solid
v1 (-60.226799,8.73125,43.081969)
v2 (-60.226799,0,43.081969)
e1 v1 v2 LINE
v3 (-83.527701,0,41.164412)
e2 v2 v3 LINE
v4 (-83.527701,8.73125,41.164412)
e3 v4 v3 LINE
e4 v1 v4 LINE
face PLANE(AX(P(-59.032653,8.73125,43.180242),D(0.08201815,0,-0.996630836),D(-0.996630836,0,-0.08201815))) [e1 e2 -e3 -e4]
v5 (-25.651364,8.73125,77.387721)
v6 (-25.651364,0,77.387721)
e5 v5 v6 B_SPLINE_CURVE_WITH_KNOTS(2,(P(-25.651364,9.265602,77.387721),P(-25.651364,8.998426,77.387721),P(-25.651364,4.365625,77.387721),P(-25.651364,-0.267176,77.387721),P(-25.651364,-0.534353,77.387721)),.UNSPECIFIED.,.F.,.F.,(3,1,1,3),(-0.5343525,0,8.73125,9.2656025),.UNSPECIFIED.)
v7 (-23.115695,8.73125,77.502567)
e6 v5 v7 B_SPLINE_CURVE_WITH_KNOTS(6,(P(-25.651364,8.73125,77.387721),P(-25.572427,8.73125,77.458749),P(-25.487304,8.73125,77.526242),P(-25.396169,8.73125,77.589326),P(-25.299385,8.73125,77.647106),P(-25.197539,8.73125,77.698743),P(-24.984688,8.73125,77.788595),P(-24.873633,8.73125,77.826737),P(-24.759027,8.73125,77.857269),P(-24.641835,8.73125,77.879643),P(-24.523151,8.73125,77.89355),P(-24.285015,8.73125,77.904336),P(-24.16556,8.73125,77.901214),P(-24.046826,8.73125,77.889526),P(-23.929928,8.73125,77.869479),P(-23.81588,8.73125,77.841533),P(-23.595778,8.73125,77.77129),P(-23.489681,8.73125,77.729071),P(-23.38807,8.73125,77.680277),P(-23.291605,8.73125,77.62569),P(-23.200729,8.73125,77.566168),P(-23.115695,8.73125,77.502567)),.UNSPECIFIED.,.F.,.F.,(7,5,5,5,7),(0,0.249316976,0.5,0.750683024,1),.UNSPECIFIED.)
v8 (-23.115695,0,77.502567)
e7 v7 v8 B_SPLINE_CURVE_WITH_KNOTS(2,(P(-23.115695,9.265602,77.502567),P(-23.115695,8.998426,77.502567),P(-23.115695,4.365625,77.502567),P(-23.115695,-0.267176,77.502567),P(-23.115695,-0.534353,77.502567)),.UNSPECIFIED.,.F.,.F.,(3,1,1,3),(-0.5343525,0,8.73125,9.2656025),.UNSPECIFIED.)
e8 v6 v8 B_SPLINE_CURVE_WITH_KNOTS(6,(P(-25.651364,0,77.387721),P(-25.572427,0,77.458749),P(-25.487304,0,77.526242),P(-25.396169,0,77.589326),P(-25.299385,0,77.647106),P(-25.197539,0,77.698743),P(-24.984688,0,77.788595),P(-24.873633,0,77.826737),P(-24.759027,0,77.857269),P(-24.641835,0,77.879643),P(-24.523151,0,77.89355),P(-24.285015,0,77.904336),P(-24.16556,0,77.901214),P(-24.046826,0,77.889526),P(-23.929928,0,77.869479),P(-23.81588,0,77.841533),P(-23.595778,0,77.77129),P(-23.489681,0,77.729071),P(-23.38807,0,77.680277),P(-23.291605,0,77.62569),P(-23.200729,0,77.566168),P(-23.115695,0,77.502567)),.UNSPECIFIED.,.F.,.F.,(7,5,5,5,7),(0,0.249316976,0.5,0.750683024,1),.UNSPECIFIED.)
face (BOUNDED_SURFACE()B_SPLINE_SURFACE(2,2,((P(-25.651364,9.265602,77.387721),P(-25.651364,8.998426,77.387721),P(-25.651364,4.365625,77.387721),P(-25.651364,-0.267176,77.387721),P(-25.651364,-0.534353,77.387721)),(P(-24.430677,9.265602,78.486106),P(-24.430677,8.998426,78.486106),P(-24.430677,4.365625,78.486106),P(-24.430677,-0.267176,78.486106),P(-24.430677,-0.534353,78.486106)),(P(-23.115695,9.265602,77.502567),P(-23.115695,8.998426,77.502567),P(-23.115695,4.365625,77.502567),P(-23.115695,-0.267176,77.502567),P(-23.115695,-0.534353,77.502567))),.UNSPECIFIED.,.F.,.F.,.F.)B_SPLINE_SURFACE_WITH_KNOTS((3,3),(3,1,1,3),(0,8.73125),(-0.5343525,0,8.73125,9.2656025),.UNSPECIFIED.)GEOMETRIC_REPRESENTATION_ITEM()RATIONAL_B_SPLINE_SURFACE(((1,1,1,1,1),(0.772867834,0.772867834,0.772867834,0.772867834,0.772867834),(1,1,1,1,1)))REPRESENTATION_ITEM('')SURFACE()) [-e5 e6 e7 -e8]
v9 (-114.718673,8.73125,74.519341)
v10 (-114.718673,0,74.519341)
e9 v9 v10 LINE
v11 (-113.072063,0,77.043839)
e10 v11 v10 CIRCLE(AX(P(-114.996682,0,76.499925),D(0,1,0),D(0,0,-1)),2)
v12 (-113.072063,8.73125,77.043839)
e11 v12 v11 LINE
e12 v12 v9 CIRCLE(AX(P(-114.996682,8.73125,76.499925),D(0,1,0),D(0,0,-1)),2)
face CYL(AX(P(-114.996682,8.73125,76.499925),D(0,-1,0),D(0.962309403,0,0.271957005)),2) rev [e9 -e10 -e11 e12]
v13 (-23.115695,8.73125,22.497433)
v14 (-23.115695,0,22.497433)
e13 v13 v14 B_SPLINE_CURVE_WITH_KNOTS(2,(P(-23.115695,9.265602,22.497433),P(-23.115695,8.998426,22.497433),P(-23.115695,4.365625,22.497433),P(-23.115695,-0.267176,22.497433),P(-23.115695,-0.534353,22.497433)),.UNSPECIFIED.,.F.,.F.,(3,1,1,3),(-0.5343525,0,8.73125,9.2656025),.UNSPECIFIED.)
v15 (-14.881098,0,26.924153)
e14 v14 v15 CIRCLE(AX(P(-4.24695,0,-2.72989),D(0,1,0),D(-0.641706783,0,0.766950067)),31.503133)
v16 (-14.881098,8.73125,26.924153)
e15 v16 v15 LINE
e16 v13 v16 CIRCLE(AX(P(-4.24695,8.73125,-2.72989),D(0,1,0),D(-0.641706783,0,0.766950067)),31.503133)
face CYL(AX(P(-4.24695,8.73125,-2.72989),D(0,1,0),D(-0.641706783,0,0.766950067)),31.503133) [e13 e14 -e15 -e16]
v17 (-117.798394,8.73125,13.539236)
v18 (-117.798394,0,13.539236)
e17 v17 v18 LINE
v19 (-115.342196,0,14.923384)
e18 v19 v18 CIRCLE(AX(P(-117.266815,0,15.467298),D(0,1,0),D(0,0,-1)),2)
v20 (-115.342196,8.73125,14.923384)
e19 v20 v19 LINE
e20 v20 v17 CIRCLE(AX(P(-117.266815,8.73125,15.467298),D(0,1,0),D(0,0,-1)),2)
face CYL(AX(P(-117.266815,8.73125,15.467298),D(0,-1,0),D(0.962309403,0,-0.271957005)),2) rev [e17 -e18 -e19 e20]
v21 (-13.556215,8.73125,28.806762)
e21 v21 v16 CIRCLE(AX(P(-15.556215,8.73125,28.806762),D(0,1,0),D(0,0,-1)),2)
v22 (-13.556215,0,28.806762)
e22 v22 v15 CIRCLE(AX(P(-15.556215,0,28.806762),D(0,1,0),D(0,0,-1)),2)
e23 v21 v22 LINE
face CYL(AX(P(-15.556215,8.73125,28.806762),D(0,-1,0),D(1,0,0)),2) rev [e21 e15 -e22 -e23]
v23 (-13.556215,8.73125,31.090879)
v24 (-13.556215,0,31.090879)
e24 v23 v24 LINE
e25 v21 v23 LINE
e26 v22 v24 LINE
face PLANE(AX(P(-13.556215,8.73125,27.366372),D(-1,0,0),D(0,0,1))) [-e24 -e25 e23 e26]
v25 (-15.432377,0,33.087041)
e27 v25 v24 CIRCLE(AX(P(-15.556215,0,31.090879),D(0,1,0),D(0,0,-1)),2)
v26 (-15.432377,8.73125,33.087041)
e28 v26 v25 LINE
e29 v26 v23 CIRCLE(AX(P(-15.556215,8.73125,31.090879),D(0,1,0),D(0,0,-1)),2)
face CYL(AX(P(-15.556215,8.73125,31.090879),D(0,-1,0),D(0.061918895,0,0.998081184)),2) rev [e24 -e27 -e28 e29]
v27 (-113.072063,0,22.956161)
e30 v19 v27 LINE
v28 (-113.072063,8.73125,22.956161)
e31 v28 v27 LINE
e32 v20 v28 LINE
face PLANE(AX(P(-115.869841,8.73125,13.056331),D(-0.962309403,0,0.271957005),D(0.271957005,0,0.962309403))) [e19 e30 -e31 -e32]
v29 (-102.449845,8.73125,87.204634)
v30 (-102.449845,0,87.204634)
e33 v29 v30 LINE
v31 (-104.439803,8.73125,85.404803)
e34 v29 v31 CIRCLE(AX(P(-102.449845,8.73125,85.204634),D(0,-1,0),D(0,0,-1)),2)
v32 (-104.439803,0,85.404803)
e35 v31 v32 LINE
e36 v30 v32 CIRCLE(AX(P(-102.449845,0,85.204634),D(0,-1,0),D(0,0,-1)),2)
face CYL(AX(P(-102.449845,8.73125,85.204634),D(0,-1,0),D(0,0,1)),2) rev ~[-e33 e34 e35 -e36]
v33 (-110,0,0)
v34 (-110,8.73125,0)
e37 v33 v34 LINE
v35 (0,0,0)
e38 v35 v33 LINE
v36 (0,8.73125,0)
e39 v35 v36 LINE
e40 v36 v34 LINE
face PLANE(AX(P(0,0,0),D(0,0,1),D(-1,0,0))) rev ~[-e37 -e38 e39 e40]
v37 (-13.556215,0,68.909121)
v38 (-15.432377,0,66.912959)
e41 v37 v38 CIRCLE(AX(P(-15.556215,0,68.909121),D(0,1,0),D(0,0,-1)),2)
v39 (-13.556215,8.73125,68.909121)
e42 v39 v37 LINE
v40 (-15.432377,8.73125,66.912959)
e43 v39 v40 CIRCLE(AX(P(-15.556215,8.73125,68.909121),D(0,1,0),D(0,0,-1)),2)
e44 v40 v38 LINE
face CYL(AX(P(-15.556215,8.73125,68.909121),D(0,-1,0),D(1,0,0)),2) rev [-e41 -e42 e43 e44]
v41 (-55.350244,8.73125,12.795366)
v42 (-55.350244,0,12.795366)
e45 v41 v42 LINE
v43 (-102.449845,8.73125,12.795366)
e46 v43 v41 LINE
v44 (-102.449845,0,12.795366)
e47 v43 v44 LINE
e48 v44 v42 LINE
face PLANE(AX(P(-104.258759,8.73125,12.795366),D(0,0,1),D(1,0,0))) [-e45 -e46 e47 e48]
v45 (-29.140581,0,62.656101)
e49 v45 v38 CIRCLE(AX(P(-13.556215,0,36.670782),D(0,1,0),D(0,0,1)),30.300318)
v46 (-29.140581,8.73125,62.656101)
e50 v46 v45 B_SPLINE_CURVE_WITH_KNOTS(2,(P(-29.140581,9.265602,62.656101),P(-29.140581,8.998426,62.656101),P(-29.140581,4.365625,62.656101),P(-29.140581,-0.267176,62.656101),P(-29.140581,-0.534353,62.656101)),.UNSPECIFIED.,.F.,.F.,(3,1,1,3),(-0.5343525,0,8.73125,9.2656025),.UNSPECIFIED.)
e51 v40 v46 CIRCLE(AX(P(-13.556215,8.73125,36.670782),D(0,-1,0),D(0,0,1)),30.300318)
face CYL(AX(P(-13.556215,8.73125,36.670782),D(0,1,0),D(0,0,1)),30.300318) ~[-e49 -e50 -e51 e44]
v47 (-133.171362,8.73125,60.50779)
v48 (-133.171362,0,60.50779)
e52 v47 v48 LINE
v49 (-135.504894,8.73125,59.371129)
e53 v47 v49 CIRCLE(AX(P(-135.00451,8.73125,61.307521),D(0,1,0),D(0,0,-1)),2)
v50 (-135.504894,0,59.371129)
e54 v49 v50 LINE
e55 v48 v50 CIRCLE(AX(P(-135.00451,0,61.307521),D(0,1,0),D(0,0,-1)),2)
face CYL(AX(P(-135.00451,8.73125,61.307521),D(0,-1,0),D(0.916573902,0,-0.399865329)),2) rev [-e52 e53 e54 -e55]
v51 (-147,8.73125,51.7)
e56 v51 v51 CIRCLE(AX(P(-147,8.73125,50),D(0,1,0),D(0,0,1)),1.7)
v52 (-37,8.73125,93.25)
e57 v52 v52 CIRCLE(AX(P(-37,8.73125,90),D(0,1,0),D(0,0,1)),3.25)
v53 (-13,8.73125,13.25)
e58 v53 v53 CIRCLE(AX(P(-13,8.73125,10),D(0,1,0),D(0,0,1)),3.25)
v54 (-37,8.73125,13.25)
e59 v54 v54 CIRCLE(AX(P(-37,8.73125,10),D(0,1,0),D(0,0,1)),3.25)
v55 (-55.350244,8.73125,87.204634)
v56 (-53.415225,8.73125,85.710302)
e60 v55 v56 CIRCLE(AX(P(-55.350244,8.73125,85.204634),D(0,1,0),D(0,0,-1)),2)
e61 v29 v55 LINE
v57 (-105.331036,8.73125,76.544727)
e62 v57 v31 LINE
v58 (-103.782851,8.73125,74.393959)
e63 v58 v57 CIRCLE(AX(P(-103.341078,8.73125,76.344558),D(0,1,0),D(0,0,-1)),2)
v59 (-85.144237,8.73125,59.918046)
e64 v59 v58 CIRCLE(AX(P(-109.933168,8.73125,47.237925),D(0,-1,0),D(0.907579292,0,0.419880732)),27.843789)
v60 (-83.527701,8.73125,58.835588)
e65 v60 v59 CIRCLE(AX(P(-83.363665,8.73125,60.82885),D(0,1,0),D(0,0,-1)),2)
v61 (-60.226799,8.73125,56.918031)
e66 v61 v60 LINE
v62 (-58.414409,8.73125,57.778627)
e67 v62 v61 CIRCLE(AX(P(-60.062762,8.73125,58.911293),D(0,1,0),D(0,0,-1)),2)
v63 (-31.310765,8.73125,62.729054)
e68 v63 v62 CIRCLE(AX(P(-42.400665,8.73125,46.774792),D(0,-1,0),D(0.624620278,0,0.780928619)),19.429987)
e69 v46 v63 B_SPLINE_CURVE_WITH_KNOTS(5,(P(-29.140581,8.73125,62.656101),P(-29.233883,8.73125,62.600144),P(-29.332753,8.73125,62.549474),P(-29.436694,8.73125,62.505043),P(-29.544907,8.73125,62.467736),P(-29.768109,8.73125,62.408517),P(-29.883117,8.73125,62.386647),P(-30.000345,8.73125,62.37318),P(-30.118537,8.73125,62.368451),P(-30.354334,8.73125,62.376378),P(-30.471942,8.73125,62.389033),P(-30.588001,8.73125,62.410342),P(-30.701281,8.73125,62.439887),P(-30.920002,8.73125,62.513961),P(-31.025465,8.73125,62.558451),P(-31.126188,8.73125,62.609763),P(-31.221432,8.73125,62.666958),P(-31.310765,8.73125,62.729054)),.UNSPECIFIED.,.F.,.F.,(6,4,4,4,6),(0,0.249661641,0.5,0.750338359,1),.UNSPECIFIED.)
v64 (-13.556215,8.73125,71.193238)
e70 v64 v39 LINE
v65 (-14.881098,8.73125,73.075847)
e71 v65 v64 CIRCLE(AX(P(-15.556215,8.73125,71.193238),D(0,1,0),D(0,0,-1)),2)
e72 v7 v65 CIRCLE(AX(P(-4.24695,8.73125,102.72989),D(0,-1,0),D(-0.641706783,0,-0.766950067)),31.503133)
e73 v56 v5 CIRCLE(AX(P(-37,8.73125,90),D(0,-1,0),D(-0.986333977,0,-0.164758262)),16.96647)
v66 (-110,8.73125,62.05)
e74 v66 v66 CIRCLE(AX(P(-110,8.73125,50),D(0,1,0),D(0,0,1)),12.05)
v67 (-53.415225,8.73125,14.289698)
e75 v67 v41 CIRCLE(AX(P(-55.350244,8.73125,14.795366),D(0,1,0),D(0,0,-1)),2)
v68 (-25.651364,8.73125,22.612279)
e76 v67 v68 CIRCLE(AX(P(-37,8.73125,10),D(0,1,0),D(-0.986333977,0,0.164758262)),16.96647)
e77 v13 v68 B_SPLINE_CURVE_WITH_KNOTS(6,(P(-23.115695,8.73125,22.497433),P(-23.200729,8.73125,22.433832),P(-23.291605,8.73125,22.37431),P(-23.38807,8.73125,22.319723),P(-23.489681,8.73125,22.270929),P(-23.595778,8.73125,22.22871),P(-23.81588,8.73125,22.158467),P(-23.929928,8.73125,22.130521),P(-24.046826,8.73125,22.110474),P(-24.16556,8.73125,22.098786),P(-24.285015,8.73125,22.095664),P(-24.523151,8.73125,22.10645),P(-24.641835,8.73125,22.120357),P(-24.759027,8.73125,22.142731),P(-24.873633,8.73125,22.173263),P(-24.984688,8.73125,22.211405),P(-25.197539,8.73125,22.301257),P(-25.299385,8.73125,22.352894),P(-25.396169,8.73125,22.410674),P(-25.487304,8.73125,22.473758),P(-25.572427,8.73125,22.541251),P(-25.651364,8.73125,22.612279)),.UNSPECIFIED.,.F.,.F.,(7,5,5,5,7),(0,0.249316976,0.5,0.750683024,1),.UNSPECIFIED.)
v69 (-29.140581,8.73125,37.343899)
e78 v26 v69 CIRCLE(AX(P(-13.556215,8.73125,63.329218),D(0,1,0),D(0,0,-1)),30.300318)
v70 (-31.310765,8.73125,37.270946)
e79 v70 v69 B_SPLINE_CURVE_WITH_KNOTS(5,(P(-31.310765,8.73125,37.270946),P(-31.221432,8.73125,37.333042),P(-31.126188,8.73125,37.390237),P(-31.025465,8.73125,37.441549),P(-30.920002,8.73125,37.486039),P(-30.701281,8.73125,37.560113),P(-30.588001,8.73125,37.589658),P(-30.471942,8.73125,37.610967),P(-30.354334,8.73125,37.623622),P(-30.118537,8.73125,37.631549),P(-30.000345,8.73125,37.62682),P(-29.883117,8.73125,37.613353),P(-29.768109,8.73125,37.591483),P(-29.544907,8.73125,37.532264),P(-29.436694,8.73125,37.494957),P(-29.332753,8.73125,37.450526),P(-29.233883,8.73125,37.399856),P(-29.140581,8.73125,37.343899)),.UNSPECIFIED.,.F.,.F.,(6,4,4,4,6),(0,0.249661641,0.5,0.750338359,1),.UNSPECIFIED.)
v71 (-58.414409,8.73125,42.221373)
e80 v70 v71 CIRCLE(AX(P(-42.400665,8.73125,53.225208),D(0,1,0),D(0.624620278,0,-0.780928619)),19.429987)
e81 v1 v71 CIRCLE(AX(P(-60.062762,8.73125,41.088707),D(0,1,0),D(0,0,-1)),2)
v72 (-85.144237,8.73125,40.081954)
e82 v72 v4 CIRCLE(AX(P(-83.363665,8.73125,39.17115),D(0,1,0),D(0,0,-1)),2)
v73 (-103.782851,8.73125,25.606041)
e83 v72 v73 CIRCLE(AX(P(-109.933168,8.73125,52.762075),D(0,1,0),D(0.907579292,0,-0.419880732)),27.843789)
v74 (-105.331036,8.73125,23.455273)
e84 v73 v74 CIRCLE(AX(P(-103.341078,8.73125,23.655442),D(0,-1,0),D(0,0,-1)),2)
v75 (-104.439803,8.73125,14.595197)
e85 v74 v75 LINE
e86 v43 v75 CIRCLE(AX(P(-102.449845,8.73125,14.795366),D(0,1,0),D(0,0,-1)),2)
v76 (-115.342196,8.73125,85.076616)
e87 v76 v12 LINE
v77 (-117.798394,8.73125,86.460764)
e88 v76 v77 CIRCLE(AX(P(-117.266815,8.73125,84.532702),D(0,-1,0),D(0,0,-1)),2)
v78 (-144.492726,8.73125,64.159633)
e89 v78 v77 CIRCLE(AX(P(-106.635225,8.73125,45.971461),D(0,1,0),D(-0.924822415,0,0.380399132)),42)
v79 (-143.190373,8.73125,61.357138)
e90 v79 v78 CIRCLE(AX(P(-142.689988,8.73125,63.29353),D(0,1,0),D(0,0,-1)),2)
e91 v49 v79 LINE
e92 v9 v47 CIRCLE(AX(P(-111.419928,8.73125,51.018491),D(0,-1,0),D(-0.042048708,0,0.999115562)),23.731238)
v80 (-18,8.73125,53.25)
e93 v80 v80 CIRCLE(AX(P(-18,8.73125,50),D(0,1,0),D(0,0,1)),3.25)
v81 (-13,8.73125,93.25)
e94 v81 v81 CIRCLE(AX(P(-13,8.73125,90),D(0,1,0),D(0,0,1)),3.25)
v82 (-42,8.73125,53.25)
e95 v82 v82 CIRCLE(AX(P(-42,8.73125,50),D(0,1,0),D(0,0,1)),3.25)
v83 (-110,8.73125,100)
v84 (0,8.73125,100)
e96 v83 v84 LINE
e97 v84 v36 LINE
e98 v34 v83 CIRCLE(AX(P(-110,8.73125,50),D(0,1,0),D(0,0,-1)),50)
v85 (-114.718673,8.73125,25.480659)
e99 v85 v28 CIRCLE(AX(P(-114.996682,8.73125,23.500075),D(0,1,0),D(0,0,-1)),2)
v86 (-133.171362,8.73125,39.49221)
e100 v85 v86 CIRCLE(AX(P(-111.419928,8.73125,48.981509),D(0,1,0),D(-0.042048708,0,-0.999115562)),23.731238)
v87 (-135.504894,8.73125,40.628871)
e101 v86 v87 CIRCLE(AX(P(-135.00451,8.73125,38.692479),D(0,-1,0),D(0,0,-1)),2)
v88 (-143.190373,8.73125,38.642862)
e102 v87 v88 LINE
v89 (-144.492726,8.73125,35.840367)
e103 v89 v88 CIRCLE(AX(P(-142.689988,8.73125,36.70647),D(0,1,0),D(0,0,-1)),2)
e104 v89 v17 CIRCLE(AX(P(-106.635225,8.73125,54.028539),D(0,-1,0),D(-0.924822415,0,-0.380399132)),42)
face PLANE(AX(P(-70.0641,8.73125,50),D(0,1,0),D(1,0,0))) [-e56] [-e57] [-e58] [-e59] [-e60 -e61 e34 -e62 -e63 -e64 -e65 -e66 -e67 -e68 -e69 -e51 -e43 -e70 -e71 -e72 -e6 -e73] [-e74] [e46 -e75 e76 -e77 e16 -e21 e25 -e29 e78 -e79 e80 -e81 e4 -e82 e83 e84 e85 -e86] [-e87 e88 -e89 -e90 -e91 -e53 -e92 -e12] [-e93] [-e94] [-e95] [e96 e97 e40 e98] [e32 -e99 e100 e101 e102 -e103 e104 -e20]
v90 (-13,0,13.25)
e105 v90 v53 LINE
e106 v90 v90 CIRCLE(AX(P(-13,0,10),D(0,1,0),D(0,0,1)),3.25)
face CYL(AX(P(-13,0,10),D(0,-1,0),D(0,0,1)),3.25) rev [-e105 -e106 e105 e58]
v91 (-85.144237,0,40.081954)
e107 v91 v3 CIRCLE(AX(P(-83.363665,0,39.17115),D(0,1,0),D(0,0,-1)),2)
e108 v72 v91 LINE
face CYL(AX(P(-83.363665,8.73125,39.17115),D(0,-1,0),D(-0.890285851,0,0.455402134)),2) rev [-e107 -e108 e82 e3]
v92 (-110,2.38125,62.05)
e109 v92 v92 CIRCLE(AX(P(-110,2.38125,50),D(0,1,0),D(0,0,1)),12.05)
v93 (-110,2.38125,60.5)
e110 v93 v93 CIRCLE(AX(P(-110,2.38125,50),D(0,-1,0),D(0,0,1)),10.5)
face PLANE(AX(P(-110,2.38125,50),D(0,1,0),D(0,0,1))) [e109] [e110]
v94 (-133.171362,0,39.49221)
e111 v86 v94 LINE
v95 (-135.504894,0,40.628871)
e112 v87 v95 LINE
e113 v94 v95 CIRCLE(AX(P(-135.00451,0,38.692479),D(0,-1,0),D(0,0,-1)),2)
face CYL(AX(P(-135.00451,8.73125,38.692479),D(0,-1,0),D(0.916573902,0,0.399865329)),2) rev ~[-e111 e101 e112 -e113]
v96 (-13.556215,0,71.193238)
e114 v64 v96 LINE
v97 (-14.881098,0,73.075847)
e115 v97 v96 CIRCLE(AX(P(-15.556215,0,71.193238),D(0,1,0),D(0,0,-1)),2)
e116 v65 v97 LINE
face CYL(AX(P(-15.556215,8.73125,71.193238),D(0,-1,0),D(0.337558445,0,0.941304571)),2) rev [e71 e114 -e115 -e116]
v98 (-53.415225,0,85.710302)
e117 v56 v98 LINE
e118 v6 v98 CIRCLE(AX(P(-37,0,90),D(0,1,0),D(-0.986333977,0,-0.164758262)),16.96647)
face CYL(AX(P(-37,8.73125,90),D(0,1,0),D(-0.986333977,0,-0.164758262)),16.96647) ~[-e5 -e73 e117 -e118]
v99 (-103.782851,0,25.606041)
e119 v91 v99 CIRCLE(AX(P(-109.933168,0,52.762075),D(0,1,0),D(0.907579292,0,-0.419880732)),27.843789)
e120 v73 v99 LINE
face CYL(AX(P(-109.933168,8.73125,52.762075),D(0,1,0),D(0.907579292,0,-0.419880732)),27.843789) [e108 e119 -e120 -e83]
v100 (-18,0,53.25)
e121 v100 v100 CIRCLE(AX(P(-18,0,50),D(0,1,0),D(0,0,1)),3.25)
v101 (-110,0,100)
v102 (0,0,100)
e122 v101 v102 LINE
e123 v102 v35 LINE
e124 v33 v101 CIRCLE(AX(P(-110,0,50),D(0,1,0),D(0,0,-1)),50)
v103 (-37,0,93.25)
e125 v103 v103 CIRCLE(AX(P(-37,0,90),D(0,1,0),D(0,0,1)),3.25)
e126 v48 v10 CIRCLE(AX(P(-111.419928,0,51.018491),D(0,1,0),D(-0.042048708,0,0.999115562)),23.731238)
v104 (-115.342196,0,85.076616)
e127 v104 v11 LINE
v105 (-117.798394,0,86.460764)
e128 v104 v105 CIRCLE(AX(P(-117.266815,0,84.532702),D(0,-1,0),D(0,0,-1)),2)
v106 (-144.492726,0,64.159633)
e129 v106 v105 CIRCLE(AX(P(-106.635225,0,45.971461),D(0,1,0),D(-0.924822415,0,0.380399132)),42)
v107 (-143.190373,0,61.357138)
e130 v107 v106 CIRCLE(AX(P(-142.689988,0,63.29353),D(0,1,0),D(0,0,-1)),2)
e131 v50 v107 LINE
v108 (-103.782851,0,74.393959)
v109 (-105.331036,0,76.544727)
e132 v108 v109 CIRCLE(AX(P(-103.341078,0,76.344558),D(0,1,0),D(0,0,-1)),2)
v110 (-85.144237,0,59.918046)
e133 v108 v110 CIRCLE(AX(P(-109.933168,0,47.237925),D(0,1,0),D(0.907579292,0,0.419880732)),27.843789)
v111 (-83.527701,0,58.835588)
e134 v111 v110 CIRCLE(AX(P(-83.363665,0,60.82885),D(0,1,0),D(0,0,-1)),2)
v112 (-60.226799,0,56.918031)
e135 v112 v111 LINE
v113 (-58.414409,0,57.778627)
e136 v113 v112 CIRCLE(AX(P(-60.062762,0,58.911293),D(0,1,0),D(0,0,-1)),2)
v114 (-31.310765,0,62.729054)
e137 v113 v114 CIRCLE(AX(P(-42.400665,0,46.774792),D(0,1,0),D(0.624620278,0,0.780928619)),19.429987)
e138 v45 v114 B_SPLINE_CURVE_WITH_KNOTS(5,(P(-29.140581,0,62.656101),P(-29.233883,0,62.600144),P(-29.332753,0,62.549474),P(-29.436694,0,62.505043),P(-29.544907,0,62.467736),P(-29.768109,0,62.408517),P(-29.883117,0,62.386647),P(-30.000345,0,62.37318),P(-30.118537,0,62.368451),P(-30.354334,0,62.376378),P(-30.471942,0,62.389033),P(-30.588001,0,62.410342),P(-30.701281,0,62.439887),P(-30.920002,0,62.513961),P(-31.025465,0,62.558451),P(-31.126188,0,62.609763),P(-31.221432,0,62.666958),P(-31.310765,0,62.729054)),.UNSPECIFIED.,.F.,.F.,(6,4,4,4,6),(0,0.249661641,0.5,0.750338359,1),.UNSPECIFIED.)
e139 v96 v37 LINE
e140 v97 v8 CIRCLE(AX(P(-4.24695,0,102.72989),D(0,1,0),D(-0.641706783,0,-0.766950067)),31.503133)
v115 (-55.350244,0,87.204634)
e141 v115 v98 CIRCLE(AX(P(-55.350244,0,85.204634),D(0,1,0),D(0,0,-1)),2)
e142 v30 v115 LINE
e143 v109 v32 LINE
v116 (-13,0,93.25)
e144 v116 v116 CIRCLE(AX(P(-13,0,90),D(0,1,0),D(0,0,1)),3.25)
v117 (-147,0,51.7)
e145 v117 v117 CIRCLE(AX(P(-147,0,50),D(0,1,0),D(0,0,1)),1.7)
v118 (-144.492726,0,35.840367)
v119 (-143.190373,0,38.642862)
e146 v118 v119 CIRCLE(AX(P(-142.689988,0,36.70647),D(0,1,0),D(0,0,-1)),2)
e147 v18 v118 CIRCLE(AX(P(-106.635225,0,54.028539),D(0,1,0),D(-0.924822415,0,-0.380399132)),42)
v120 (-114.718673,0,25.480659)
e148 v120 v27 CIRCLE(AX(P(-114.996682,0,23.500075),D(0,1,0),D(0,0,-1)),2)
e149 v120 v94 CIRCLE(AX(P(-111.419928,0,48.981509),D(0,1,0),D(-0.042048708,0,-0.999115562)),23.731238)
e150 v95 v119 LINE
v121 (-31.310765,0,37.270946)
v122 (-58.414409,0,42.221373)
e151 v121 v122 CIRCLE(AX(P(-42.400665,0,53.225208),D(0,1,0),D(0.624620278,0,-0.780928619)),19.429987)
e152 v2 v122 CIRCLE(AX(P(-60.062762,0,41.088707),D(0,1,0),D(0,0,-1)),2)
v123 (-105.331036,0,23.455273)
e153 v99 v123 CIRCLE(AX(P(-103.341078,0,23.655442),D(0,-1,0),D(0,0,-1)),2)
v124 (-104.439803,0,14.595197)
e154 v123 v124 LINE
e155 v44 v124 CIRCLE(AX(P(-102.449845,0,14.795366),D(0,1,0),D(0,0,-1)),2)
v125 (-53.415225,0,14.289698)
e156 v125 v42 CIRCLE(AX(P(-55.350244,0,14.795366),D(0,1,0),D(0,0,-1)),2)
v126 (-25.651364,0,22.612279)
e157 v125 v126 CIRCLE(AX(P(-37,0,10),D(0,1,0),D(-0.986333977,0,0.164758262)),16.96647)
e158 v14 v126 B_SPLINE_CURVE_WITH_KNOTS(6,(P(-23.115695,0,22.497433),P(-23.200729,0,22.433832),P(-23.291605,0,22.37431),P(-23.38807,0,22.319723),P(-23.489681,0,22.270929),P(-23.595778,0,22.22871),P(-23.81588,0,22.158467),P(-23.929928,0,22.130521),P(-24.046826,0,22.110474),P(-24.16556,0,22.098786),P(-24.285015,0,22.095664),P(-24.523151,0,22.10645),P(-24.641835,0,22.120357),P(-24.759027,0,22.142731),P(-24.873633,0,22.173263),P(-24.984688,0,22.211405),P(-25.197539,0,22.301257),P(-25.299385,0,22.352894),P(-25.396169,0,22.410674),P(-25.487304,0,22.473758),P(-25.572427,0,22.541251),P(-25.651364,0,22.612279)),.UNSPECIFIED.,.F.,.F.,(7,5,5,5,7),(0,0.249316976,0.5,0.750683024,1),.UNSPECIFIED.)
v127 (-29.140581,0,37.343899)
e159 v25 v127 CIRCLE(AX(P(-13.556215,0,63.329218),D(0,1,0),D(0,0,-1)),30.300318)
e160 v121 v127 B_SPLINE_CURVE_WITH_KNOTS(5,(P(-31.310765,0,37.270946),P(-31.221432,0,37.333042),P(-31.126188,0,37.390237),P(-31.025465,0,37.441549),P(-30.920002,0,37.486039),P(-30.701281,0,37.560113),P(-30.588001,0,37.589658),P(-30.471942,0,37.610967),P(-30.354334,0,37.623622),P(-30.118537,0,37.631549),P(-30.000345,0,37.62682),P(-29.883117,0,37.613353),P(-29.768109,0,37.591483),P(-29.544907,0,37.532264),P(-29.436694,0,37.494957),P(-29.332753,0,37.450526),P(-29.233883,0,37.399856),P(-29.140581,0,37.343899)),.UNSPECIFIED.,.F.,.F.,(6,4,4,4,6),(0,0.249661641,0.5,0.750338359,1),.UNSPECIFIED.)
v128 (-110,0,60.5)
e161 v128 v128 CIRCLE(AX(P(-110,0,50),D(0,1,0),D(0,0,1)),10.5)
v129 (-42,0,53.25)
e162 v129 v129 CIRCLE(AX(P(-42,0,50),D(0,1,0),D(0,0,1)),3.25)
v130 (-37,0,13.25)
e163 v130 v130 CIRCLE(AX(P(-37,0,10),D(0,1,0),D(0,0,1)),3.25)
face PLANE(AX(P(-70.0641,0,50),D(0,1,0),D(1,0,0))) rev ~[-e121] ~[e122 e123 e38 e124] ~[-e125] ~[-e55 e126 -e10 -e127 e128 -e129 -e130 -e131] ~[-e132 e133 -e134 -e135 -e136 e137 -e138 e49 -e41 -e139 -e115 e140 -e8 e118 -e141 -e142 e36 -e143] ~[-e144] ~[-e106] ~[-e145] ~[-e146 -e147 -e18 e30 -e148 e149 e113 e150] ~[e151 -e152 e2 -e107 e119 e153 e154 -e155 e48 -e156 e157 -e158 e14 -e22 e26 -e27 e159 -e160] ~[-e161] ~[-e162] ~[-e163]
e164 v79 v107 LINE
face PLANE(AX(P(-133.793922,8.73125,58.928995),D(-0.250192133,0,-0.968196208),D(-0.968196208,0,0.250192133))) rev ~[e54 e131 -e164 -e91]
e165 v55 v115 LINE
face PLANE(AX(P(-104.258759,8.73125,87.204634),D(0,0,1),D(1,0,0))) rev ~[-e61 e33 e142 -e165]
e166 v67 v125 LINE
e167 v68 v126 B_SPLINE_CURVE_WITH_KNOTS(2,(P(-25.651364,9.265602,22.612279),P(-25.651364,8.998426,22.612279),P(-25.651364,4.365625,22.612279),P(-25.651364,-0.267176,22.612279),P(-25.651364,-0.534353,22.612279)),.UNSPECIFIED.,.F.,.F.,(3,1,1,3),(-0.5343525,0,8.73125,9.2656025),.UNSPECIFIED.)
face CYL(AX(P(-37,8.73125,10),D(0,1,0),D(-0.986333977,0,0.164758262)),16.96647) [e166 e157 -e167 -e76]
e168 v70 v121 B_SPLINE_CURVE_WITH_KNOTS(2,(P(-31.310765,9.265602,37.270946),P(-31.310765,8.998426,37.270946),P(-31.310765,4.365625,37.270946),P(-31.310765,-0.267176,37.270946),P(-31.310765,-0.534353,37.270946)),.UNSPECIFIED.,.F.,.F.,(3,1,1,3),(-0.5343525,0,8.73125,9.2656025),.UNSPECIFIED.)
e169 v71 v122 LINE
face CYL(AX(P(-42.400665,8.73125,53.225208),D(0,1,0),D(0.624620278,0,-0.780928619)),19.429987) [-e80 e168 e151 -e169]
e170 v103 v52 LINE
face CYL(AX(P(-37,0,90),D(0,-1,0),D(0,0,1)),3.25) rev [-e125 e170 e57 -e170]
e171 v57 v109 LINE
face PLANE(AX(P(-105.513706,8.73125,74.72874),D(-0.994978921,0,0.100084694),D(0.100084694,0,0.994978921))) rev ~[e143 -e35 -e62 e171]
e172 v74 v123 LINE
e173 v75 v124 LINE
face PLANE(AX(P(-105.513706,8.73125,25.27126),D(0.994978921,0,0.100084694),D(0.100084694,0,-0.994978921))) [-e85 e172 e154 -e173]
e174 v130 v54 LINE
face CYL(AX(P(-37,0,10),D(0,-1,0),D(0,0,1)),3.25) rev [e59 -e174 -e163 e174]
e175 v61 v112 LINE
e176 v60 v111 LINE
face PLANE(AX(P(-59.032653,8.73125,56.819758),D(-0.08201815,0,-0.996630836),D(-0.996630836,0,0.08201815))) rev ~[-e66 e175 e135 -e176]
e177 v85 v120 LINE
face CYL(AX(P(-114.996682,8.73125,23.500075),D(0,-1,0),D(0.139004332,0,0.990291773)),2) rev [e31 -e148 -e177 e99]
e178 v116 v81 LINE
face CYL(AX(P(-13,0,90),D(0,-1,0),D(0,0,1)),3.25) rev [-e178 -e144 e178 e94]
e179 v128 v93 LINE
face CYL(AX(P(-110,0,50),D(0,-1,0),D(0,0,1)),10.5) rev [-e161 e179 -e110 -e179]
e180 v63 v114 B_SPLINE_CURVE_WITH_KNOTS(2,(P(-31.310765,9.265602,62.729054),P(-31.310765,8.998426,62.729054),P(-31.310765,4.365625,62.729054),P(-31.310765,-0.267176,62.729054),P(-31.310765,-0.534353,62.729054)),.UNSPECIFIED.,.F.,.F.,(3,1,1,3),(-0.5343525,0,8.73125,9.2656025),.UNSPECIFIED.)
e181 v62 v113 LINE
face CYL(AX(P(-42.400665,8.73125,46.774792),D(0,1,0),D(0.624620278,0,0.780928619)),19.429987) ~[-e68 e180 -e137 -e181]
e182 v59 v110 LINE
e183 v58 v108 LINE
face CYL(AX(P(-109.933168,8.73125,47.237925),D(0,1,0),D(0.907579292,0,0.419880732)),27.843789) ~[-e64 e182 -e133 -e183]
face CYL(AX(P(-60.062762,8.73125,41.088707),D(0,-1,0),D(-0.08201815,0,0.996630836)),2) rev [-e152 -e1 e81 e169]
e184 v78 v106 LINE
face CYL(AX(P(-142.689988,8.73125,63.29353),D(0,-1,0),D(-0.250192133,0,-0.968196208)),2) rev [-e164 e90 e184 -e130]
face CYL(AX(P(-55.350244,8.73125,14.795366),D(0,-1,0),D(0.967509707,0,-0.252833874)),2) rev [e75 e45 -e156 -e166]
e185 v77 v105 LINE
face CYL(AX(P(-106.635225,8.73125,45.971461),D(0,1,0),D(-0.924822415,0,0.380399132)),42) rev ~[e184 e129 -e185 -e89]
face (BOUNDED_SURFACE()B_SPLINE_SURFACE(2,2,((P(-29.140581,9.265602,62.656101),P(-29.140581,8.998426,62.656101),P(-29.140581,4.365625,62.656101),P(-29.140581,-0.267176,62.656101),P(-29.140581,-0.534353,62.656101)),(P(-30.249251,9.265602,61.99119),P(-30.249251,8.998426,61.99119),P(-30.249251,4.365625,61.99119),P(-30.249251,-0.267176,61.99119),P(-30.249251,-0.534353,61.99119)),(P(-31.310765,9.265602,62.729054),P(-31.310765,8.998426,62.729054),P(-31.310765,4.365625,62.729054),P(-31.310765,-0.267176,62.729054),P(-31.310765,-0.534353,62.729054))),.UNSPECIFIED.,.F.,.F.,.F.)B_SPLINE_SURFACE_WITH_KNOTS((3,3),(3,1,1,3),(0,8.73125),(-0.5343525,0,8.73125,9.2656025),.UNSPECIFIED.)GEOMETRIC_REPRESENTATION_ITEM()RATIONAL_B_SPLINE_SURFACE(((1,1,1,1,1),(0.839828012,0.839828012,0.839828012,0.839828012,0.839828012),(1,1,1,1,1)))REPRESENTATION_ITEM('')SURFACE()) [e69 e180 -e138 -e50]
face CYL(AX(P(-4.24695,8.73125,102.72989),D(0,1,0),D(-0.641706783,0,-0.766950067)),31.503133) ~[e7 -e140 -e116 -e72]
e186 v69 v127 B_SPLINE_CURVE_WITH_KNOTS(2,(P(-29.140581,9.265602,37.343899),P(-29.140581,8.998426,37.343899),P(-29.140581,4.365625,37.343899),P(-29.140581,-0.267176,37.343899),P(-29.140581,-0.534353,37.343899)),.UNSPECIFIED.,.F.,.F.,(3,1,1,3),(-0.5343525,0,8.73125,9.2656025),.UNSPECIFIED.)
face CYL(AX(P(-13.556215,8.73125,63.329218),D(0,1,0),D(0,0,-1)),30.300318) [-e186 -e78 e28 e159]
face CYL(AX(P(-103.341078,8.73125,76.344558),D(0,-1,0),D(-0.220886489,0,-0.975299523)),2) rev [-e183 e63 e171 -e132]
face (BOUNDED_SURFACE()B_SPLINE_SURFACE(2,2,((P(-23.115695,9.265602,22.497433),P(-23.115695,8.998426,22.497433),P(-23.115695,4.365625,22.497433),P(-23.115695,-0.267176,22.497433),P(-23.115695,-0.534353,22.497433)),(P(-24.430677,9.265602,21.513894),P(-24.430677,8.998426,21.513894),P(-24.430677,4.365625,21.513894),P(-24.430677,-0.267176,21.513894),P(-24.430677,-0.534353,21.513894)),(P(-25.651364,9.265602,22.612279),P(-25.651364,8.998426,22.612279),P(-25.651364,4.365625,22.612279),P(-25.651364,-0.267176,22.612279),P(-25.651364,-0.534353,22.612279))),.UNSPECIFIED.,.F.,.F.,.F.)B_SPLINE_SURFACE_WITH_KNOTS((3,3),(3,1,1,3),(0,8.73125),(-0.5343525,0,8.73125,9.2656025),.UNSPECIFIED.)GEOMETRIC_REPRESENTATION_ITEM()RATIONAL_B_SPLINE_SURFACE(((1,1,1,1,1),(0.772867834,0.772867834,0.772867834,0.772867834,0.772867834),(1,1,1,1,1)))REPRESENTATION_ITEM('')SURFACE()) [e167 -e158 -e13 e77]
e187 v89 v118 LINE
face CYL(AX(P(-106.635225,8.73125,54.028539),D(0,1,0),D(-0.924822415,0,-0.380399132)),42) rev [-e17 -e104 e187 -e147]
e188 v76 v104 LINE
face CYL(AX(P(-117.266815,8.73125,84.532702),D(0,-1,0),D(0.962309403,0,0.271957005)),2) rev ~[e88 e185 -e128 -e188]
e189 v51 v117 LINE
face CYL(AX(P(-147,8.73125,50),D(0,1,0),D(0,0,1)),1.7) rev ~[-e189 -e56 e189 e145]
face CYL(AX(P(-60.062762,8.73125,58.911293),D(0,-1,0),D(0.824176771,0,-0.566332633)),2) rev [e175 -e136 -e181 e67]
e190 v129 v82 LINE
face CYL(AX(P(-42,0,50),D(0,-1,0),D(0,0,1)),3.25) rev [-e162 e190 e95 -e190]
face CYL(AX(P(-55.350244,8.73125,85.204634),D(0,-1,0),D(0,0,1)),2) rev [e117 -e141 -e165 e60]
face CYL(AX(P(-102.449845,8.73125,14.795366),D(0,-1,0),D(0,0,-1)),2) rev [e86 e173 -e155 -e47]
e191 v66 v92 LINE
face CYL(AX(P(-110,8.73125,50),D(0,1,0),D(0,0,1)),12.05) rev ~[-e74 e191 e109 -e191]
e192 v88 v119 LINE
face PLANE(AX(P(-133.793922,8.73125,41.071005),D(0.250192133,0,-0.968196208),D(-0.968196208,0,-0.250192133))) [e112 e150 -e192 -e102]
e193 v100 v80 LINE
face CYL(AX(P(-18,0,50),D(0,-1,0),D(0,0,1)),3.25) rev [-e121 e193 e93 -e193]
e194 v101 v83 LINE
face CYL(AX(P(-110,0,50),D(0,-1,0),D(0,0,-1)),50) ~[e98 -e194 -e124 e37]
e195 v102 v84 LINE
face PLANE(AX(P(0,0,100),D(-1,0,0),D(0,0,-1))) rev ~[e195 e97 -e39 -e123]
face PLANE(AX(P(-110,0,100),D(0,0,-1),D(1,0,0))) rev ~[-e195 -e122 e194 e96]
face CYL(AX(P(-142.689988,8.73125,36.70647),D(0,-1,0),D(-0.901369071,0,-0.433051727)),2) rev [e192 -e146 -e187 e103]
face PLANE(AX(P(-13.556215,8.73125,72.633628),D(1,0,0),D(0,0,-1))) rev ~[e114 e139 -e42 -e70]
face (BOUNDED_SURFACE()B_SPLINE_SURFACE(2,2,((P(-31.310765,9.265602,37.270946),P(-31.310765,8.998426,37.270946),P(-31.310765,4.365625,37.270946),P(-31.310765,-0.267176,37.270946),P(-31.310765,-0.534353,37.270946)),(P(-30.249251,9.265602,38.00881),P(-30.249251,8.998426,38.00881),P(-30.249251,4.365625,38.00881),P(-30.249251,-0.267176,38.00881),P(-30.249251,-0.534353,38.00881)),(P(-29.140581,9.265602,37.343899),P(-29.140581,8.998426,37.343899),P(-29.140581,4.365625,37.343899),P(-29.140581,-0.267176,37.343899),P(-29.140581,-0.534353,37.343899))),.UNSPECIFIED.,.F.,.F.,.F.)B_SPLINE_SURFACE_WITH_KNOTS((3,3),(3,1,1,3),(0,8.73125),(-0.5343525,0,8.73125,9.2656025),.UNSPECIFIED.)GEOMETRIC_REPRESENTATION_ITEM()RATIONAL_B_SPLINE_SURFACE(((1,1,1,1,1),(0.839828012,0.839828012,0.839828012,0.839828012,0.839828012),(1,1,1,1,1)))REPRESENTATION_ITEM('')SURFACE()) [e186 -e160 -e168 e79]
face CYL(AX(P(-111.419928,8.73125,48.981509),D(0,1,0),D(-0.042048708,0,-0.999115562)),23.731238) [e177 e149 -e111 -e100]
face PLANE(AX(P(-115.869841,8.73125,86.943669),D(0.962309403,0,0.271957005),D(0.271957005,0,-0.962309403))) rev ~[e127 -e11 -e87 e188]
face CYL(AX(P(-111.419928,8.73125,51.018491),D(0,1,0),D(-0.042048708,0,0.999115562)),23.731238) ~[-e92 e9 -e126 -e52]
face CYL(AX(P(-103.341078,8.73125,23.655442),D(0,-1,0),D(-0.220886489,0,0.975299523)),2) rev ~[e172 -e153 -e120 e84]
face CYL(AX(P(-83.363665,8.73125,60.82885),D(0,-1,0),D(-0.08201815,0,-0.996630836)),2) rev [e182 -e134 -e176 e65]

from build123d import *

# Parameters (mm, degrees)
SKETCH1_R           = 3.25
SKETCH1_R_2         = 10.5
BOSS_EXTRUDE1_DEPTH = 8.73125
SKETCH2_R           = 12.05
CUT_EXTRUDE1_DEPTH  = 6.35
SKETCH6_R           = 1.7
CUT_EXTRUDE4_DEPTH  = 189.881536225
FILLET1_R           = 2


with BuildPart() as part:
    # Sketch1 → Boss-Extrude1 (new body)
    with BuildSketch(Plane(origin=(0, 0, 0), x_dir=(1, 0, 0), z_dir=(0, 1, 0))):
        with BuildLine():
            Line((-110, -100), (0, -100))
            Line((0, -100), (0, 0))
            Line((0, 0), (-110, 0))
            ThreePointArc((-110, 0), (-160, -50), (-110, -100))
        make_face()
        with Locations(Location((-13, -10, 0), (0, 0, 270))):
            Circle(SKETCH1_R, mode=Mode.SUBTRACT)
        with Locations(Location((-37, -10, 0), (0, 0, 270))):
            Circle(SKETCH1_R, mode=Mode.SUBTRACT)
        with Locations(Location((-18, -50, 0), (0, 0, 270))):
            Circle(SKETCH1_R, mode=Mode.SUBTRACT)
        with Locations(Location((-13, -90, 0), (0, 0, 270))):
            Circle(SKETCH1_R, mode=Mode.SUBTRACT)
        with Locations(Location((-37, -90, 0), (0, 0, 270))):
            Circle(SKETCH1_R, mode=Mode.SUBTRACT)
        with Locations(Location((-42, -50, 0), (0, 0, 270))):
            Circle(SKETCH1_R, mode=Mode.SUBTRACT)
        with Locations(Location((-110, -50, 0), (0, 0, 270))):
            Circle(SKETCH1_R_2, mode=Mode.SUBTRACT)
    extrude(amount=BOSS_EXTRUDE1_DEPTH)

    # Sketch2 → Cut-Extrude1 (cut)
    with BuildSketch(Plane(origin=(0, 8.73125, 0), x_dir=(1, 0, 0), z_dir=(0, 1, 0))):
        with Locations(Location((-110, -50, 0), (0, 0, 270))):
            Circle(SKETCH2_R)
    extrude(amount=-CUT_EXTRUDE1_DEPTH, mode=Mode.SUBTRACT)

    # Sketch6 → Cut-Extrude4 (cut, through all)
    with BuildSketch(Plane(origin=(0, 8.73125, 0), x_dir=(1, 0, 0), z_dir=(0, 1, 0))):
        with Locations(Location((-147, -50, 0), (0, 0, 270))):
            Circle(SKETCH6_R)
        with BuildLine():
            Line((-133.793921789, -41.071004616), (-145.477766874, -38.051775556))
            ThreePointArc((-145.477766874, -38.051775556), (-133.72851482, -21.93564785), (-115.86984126, -13.056330604))
            Line((-115.86984126, -13.056330604), (-112.417796121, -25.271259557))
            ThreePointArc((-112.417796121, -25.271259557), (-125.525564083, -29.897413384), (-133.793921789, -41.071004616))
        make_face()
        with BuildLine():
            Line((-105.513705843, -25.271259557), (-104.258758681, -12.795366162))
            Line((-104.258758681, -12.795366162), (-53.734606151, -12.795366162))
            ThreePointArc((-53.734606151, -12.795366162), (-41.801024618, -26.273023002), (-24.46272378, -21.431439979))
            ThreePointArc((-24.46272378, -21.431439979), (-19.304766449, -24.941567185), (-13.556215286, -27.366371581))
            Line((-13.556215286, -27.366371581), (-13.556215286, -33.028900538))
            ThreePointArc((-13.556215286, -33.028900538), (-22.279595055, -34.31177696), (-30.264301501, -38.051775556))
            ThreePointArc((-30.264301501, -38.051775556), (-45.81064331, -34.0967888), (-59.032653211, -43.180241783))
            Line((-59.032653211, -43.180241783), (-84.662721734, -41.071004616))
            ThreePointArc((-84.662721734, -41.071004616), (-93.117084888, -30.569825722), (-105.513705843, -25.271259557))
        make_face()
        with BuildLine():
            Line((-115.86984126, -86.943669396), (-112.417796121, -74.728740443))
            ThreePointArc((-112.417796121, -74.728740443), (-125.525564083, -70.102586616), (-133.793921789, -58.928995384))
            Line((-133.793921789, -58.928995384), (-145.477766874, -61.948224444))
            ThreePointArc((-145.477766874, -61.948224444), (-133.72851482, -78.06435215), (-115.86984126, -86.943669396))
        make_face()
        with BuildLine():
            Line((-104.258758681, -87.204633838), (-53.734606151, -87.204633838))
            ThreePointArc((-53.734606151, -87.204633838), (-41.801024618, -73.726976998), (-24.46272378, -78.568560021))
            ThreePointArc((-24.46272378, -78.568560021), (-19.304766449, -75.058432815), (-13.556215286, -72.633628419))
            Line((-13.556215286, -72.633628419), (-13.556215286, -66.971099462))
            ThreePointArc((-13.556215286, -66.971099462), (-22.279595055, -65.68822304), (-30.264301501, -61.948224444))
            ThreePointArc((-30.264301501, -61.948224444), (-45.81064331, -65.9032112), (-59.032653211, -56.819758217))
            Line((-59.032653211, -56.819758217), (-84.662721734, -58.928995384))
            ThreePointArc((-84.662721734, -58.928995384), (-93.117084888, -69.430174278), (-105.513705843, -74.728740443))
            Line((-105.513705843, -74.728740443), (-104.258758681, -87.204633838))
        make_face()
    extrude(amount=-CUT_EXTRUDE4_DEPTH, mode=Mode.SUBTRACT)

    # Fillet1
    fillet1_edges = [part.edges().sort_by_distance(p)[0] for p in [
        (-13.556215286, 4.365625, 33.028900538),
        (-30.264301501, 4.365625, 38.051775556),
        (-59.032653211, 4.365625, 43.180241783),
        (-112.417796121, 4.365625, 25.271259557),
        (-133.793921789, 4.365625, 41.071004616),
        (-145.477766874, 4.365625, 38.051775556),
        (-115.86984126, 4.365625, 13.056330604),
        (-24.46272378, 4.365625, 78.568560021),
        (-53.734606151, 4.365625, 87.204633838),
        (-104.258758681, 4.365625, 87.204633838),
        (-105.513705843, 4.365625, 74.728740443),
        (-84.662721734, 4.365625, 58.928995384),
        (-59.032653211, 4.365625, 56.819758217),
        (-30.264301501, 4.365625, 61.948224444),
        (-13.556215286, 4.365625, 66.971099462),
        (-13.556215286, 4.365625, 72.633628419),
        (-115.86984126, 4.365625, 86.943669396),
        (-145.477766874, 4.365625, 61.948224444),
        (-133.793921789, 4.365625, 58.928995384),
        (-112.417796121, 4.365625, 74.728740443),
        (-84.662721734, 4.365625, 41.071004616),
        (-105.513705843, 4.365625, 25.271259557),
        (-104.258758681, 4.365625, 12.795366162),
        (-53.734606151, 4.365625, 12.795366162),
        (-24.46272378, 4.365625, 21.431439979),
        (-13.556215286, 4.365625, 27.366371581),
    ]]
    fillet(fillet1_edges, radius=FILLET1_R)


solid = part.part
